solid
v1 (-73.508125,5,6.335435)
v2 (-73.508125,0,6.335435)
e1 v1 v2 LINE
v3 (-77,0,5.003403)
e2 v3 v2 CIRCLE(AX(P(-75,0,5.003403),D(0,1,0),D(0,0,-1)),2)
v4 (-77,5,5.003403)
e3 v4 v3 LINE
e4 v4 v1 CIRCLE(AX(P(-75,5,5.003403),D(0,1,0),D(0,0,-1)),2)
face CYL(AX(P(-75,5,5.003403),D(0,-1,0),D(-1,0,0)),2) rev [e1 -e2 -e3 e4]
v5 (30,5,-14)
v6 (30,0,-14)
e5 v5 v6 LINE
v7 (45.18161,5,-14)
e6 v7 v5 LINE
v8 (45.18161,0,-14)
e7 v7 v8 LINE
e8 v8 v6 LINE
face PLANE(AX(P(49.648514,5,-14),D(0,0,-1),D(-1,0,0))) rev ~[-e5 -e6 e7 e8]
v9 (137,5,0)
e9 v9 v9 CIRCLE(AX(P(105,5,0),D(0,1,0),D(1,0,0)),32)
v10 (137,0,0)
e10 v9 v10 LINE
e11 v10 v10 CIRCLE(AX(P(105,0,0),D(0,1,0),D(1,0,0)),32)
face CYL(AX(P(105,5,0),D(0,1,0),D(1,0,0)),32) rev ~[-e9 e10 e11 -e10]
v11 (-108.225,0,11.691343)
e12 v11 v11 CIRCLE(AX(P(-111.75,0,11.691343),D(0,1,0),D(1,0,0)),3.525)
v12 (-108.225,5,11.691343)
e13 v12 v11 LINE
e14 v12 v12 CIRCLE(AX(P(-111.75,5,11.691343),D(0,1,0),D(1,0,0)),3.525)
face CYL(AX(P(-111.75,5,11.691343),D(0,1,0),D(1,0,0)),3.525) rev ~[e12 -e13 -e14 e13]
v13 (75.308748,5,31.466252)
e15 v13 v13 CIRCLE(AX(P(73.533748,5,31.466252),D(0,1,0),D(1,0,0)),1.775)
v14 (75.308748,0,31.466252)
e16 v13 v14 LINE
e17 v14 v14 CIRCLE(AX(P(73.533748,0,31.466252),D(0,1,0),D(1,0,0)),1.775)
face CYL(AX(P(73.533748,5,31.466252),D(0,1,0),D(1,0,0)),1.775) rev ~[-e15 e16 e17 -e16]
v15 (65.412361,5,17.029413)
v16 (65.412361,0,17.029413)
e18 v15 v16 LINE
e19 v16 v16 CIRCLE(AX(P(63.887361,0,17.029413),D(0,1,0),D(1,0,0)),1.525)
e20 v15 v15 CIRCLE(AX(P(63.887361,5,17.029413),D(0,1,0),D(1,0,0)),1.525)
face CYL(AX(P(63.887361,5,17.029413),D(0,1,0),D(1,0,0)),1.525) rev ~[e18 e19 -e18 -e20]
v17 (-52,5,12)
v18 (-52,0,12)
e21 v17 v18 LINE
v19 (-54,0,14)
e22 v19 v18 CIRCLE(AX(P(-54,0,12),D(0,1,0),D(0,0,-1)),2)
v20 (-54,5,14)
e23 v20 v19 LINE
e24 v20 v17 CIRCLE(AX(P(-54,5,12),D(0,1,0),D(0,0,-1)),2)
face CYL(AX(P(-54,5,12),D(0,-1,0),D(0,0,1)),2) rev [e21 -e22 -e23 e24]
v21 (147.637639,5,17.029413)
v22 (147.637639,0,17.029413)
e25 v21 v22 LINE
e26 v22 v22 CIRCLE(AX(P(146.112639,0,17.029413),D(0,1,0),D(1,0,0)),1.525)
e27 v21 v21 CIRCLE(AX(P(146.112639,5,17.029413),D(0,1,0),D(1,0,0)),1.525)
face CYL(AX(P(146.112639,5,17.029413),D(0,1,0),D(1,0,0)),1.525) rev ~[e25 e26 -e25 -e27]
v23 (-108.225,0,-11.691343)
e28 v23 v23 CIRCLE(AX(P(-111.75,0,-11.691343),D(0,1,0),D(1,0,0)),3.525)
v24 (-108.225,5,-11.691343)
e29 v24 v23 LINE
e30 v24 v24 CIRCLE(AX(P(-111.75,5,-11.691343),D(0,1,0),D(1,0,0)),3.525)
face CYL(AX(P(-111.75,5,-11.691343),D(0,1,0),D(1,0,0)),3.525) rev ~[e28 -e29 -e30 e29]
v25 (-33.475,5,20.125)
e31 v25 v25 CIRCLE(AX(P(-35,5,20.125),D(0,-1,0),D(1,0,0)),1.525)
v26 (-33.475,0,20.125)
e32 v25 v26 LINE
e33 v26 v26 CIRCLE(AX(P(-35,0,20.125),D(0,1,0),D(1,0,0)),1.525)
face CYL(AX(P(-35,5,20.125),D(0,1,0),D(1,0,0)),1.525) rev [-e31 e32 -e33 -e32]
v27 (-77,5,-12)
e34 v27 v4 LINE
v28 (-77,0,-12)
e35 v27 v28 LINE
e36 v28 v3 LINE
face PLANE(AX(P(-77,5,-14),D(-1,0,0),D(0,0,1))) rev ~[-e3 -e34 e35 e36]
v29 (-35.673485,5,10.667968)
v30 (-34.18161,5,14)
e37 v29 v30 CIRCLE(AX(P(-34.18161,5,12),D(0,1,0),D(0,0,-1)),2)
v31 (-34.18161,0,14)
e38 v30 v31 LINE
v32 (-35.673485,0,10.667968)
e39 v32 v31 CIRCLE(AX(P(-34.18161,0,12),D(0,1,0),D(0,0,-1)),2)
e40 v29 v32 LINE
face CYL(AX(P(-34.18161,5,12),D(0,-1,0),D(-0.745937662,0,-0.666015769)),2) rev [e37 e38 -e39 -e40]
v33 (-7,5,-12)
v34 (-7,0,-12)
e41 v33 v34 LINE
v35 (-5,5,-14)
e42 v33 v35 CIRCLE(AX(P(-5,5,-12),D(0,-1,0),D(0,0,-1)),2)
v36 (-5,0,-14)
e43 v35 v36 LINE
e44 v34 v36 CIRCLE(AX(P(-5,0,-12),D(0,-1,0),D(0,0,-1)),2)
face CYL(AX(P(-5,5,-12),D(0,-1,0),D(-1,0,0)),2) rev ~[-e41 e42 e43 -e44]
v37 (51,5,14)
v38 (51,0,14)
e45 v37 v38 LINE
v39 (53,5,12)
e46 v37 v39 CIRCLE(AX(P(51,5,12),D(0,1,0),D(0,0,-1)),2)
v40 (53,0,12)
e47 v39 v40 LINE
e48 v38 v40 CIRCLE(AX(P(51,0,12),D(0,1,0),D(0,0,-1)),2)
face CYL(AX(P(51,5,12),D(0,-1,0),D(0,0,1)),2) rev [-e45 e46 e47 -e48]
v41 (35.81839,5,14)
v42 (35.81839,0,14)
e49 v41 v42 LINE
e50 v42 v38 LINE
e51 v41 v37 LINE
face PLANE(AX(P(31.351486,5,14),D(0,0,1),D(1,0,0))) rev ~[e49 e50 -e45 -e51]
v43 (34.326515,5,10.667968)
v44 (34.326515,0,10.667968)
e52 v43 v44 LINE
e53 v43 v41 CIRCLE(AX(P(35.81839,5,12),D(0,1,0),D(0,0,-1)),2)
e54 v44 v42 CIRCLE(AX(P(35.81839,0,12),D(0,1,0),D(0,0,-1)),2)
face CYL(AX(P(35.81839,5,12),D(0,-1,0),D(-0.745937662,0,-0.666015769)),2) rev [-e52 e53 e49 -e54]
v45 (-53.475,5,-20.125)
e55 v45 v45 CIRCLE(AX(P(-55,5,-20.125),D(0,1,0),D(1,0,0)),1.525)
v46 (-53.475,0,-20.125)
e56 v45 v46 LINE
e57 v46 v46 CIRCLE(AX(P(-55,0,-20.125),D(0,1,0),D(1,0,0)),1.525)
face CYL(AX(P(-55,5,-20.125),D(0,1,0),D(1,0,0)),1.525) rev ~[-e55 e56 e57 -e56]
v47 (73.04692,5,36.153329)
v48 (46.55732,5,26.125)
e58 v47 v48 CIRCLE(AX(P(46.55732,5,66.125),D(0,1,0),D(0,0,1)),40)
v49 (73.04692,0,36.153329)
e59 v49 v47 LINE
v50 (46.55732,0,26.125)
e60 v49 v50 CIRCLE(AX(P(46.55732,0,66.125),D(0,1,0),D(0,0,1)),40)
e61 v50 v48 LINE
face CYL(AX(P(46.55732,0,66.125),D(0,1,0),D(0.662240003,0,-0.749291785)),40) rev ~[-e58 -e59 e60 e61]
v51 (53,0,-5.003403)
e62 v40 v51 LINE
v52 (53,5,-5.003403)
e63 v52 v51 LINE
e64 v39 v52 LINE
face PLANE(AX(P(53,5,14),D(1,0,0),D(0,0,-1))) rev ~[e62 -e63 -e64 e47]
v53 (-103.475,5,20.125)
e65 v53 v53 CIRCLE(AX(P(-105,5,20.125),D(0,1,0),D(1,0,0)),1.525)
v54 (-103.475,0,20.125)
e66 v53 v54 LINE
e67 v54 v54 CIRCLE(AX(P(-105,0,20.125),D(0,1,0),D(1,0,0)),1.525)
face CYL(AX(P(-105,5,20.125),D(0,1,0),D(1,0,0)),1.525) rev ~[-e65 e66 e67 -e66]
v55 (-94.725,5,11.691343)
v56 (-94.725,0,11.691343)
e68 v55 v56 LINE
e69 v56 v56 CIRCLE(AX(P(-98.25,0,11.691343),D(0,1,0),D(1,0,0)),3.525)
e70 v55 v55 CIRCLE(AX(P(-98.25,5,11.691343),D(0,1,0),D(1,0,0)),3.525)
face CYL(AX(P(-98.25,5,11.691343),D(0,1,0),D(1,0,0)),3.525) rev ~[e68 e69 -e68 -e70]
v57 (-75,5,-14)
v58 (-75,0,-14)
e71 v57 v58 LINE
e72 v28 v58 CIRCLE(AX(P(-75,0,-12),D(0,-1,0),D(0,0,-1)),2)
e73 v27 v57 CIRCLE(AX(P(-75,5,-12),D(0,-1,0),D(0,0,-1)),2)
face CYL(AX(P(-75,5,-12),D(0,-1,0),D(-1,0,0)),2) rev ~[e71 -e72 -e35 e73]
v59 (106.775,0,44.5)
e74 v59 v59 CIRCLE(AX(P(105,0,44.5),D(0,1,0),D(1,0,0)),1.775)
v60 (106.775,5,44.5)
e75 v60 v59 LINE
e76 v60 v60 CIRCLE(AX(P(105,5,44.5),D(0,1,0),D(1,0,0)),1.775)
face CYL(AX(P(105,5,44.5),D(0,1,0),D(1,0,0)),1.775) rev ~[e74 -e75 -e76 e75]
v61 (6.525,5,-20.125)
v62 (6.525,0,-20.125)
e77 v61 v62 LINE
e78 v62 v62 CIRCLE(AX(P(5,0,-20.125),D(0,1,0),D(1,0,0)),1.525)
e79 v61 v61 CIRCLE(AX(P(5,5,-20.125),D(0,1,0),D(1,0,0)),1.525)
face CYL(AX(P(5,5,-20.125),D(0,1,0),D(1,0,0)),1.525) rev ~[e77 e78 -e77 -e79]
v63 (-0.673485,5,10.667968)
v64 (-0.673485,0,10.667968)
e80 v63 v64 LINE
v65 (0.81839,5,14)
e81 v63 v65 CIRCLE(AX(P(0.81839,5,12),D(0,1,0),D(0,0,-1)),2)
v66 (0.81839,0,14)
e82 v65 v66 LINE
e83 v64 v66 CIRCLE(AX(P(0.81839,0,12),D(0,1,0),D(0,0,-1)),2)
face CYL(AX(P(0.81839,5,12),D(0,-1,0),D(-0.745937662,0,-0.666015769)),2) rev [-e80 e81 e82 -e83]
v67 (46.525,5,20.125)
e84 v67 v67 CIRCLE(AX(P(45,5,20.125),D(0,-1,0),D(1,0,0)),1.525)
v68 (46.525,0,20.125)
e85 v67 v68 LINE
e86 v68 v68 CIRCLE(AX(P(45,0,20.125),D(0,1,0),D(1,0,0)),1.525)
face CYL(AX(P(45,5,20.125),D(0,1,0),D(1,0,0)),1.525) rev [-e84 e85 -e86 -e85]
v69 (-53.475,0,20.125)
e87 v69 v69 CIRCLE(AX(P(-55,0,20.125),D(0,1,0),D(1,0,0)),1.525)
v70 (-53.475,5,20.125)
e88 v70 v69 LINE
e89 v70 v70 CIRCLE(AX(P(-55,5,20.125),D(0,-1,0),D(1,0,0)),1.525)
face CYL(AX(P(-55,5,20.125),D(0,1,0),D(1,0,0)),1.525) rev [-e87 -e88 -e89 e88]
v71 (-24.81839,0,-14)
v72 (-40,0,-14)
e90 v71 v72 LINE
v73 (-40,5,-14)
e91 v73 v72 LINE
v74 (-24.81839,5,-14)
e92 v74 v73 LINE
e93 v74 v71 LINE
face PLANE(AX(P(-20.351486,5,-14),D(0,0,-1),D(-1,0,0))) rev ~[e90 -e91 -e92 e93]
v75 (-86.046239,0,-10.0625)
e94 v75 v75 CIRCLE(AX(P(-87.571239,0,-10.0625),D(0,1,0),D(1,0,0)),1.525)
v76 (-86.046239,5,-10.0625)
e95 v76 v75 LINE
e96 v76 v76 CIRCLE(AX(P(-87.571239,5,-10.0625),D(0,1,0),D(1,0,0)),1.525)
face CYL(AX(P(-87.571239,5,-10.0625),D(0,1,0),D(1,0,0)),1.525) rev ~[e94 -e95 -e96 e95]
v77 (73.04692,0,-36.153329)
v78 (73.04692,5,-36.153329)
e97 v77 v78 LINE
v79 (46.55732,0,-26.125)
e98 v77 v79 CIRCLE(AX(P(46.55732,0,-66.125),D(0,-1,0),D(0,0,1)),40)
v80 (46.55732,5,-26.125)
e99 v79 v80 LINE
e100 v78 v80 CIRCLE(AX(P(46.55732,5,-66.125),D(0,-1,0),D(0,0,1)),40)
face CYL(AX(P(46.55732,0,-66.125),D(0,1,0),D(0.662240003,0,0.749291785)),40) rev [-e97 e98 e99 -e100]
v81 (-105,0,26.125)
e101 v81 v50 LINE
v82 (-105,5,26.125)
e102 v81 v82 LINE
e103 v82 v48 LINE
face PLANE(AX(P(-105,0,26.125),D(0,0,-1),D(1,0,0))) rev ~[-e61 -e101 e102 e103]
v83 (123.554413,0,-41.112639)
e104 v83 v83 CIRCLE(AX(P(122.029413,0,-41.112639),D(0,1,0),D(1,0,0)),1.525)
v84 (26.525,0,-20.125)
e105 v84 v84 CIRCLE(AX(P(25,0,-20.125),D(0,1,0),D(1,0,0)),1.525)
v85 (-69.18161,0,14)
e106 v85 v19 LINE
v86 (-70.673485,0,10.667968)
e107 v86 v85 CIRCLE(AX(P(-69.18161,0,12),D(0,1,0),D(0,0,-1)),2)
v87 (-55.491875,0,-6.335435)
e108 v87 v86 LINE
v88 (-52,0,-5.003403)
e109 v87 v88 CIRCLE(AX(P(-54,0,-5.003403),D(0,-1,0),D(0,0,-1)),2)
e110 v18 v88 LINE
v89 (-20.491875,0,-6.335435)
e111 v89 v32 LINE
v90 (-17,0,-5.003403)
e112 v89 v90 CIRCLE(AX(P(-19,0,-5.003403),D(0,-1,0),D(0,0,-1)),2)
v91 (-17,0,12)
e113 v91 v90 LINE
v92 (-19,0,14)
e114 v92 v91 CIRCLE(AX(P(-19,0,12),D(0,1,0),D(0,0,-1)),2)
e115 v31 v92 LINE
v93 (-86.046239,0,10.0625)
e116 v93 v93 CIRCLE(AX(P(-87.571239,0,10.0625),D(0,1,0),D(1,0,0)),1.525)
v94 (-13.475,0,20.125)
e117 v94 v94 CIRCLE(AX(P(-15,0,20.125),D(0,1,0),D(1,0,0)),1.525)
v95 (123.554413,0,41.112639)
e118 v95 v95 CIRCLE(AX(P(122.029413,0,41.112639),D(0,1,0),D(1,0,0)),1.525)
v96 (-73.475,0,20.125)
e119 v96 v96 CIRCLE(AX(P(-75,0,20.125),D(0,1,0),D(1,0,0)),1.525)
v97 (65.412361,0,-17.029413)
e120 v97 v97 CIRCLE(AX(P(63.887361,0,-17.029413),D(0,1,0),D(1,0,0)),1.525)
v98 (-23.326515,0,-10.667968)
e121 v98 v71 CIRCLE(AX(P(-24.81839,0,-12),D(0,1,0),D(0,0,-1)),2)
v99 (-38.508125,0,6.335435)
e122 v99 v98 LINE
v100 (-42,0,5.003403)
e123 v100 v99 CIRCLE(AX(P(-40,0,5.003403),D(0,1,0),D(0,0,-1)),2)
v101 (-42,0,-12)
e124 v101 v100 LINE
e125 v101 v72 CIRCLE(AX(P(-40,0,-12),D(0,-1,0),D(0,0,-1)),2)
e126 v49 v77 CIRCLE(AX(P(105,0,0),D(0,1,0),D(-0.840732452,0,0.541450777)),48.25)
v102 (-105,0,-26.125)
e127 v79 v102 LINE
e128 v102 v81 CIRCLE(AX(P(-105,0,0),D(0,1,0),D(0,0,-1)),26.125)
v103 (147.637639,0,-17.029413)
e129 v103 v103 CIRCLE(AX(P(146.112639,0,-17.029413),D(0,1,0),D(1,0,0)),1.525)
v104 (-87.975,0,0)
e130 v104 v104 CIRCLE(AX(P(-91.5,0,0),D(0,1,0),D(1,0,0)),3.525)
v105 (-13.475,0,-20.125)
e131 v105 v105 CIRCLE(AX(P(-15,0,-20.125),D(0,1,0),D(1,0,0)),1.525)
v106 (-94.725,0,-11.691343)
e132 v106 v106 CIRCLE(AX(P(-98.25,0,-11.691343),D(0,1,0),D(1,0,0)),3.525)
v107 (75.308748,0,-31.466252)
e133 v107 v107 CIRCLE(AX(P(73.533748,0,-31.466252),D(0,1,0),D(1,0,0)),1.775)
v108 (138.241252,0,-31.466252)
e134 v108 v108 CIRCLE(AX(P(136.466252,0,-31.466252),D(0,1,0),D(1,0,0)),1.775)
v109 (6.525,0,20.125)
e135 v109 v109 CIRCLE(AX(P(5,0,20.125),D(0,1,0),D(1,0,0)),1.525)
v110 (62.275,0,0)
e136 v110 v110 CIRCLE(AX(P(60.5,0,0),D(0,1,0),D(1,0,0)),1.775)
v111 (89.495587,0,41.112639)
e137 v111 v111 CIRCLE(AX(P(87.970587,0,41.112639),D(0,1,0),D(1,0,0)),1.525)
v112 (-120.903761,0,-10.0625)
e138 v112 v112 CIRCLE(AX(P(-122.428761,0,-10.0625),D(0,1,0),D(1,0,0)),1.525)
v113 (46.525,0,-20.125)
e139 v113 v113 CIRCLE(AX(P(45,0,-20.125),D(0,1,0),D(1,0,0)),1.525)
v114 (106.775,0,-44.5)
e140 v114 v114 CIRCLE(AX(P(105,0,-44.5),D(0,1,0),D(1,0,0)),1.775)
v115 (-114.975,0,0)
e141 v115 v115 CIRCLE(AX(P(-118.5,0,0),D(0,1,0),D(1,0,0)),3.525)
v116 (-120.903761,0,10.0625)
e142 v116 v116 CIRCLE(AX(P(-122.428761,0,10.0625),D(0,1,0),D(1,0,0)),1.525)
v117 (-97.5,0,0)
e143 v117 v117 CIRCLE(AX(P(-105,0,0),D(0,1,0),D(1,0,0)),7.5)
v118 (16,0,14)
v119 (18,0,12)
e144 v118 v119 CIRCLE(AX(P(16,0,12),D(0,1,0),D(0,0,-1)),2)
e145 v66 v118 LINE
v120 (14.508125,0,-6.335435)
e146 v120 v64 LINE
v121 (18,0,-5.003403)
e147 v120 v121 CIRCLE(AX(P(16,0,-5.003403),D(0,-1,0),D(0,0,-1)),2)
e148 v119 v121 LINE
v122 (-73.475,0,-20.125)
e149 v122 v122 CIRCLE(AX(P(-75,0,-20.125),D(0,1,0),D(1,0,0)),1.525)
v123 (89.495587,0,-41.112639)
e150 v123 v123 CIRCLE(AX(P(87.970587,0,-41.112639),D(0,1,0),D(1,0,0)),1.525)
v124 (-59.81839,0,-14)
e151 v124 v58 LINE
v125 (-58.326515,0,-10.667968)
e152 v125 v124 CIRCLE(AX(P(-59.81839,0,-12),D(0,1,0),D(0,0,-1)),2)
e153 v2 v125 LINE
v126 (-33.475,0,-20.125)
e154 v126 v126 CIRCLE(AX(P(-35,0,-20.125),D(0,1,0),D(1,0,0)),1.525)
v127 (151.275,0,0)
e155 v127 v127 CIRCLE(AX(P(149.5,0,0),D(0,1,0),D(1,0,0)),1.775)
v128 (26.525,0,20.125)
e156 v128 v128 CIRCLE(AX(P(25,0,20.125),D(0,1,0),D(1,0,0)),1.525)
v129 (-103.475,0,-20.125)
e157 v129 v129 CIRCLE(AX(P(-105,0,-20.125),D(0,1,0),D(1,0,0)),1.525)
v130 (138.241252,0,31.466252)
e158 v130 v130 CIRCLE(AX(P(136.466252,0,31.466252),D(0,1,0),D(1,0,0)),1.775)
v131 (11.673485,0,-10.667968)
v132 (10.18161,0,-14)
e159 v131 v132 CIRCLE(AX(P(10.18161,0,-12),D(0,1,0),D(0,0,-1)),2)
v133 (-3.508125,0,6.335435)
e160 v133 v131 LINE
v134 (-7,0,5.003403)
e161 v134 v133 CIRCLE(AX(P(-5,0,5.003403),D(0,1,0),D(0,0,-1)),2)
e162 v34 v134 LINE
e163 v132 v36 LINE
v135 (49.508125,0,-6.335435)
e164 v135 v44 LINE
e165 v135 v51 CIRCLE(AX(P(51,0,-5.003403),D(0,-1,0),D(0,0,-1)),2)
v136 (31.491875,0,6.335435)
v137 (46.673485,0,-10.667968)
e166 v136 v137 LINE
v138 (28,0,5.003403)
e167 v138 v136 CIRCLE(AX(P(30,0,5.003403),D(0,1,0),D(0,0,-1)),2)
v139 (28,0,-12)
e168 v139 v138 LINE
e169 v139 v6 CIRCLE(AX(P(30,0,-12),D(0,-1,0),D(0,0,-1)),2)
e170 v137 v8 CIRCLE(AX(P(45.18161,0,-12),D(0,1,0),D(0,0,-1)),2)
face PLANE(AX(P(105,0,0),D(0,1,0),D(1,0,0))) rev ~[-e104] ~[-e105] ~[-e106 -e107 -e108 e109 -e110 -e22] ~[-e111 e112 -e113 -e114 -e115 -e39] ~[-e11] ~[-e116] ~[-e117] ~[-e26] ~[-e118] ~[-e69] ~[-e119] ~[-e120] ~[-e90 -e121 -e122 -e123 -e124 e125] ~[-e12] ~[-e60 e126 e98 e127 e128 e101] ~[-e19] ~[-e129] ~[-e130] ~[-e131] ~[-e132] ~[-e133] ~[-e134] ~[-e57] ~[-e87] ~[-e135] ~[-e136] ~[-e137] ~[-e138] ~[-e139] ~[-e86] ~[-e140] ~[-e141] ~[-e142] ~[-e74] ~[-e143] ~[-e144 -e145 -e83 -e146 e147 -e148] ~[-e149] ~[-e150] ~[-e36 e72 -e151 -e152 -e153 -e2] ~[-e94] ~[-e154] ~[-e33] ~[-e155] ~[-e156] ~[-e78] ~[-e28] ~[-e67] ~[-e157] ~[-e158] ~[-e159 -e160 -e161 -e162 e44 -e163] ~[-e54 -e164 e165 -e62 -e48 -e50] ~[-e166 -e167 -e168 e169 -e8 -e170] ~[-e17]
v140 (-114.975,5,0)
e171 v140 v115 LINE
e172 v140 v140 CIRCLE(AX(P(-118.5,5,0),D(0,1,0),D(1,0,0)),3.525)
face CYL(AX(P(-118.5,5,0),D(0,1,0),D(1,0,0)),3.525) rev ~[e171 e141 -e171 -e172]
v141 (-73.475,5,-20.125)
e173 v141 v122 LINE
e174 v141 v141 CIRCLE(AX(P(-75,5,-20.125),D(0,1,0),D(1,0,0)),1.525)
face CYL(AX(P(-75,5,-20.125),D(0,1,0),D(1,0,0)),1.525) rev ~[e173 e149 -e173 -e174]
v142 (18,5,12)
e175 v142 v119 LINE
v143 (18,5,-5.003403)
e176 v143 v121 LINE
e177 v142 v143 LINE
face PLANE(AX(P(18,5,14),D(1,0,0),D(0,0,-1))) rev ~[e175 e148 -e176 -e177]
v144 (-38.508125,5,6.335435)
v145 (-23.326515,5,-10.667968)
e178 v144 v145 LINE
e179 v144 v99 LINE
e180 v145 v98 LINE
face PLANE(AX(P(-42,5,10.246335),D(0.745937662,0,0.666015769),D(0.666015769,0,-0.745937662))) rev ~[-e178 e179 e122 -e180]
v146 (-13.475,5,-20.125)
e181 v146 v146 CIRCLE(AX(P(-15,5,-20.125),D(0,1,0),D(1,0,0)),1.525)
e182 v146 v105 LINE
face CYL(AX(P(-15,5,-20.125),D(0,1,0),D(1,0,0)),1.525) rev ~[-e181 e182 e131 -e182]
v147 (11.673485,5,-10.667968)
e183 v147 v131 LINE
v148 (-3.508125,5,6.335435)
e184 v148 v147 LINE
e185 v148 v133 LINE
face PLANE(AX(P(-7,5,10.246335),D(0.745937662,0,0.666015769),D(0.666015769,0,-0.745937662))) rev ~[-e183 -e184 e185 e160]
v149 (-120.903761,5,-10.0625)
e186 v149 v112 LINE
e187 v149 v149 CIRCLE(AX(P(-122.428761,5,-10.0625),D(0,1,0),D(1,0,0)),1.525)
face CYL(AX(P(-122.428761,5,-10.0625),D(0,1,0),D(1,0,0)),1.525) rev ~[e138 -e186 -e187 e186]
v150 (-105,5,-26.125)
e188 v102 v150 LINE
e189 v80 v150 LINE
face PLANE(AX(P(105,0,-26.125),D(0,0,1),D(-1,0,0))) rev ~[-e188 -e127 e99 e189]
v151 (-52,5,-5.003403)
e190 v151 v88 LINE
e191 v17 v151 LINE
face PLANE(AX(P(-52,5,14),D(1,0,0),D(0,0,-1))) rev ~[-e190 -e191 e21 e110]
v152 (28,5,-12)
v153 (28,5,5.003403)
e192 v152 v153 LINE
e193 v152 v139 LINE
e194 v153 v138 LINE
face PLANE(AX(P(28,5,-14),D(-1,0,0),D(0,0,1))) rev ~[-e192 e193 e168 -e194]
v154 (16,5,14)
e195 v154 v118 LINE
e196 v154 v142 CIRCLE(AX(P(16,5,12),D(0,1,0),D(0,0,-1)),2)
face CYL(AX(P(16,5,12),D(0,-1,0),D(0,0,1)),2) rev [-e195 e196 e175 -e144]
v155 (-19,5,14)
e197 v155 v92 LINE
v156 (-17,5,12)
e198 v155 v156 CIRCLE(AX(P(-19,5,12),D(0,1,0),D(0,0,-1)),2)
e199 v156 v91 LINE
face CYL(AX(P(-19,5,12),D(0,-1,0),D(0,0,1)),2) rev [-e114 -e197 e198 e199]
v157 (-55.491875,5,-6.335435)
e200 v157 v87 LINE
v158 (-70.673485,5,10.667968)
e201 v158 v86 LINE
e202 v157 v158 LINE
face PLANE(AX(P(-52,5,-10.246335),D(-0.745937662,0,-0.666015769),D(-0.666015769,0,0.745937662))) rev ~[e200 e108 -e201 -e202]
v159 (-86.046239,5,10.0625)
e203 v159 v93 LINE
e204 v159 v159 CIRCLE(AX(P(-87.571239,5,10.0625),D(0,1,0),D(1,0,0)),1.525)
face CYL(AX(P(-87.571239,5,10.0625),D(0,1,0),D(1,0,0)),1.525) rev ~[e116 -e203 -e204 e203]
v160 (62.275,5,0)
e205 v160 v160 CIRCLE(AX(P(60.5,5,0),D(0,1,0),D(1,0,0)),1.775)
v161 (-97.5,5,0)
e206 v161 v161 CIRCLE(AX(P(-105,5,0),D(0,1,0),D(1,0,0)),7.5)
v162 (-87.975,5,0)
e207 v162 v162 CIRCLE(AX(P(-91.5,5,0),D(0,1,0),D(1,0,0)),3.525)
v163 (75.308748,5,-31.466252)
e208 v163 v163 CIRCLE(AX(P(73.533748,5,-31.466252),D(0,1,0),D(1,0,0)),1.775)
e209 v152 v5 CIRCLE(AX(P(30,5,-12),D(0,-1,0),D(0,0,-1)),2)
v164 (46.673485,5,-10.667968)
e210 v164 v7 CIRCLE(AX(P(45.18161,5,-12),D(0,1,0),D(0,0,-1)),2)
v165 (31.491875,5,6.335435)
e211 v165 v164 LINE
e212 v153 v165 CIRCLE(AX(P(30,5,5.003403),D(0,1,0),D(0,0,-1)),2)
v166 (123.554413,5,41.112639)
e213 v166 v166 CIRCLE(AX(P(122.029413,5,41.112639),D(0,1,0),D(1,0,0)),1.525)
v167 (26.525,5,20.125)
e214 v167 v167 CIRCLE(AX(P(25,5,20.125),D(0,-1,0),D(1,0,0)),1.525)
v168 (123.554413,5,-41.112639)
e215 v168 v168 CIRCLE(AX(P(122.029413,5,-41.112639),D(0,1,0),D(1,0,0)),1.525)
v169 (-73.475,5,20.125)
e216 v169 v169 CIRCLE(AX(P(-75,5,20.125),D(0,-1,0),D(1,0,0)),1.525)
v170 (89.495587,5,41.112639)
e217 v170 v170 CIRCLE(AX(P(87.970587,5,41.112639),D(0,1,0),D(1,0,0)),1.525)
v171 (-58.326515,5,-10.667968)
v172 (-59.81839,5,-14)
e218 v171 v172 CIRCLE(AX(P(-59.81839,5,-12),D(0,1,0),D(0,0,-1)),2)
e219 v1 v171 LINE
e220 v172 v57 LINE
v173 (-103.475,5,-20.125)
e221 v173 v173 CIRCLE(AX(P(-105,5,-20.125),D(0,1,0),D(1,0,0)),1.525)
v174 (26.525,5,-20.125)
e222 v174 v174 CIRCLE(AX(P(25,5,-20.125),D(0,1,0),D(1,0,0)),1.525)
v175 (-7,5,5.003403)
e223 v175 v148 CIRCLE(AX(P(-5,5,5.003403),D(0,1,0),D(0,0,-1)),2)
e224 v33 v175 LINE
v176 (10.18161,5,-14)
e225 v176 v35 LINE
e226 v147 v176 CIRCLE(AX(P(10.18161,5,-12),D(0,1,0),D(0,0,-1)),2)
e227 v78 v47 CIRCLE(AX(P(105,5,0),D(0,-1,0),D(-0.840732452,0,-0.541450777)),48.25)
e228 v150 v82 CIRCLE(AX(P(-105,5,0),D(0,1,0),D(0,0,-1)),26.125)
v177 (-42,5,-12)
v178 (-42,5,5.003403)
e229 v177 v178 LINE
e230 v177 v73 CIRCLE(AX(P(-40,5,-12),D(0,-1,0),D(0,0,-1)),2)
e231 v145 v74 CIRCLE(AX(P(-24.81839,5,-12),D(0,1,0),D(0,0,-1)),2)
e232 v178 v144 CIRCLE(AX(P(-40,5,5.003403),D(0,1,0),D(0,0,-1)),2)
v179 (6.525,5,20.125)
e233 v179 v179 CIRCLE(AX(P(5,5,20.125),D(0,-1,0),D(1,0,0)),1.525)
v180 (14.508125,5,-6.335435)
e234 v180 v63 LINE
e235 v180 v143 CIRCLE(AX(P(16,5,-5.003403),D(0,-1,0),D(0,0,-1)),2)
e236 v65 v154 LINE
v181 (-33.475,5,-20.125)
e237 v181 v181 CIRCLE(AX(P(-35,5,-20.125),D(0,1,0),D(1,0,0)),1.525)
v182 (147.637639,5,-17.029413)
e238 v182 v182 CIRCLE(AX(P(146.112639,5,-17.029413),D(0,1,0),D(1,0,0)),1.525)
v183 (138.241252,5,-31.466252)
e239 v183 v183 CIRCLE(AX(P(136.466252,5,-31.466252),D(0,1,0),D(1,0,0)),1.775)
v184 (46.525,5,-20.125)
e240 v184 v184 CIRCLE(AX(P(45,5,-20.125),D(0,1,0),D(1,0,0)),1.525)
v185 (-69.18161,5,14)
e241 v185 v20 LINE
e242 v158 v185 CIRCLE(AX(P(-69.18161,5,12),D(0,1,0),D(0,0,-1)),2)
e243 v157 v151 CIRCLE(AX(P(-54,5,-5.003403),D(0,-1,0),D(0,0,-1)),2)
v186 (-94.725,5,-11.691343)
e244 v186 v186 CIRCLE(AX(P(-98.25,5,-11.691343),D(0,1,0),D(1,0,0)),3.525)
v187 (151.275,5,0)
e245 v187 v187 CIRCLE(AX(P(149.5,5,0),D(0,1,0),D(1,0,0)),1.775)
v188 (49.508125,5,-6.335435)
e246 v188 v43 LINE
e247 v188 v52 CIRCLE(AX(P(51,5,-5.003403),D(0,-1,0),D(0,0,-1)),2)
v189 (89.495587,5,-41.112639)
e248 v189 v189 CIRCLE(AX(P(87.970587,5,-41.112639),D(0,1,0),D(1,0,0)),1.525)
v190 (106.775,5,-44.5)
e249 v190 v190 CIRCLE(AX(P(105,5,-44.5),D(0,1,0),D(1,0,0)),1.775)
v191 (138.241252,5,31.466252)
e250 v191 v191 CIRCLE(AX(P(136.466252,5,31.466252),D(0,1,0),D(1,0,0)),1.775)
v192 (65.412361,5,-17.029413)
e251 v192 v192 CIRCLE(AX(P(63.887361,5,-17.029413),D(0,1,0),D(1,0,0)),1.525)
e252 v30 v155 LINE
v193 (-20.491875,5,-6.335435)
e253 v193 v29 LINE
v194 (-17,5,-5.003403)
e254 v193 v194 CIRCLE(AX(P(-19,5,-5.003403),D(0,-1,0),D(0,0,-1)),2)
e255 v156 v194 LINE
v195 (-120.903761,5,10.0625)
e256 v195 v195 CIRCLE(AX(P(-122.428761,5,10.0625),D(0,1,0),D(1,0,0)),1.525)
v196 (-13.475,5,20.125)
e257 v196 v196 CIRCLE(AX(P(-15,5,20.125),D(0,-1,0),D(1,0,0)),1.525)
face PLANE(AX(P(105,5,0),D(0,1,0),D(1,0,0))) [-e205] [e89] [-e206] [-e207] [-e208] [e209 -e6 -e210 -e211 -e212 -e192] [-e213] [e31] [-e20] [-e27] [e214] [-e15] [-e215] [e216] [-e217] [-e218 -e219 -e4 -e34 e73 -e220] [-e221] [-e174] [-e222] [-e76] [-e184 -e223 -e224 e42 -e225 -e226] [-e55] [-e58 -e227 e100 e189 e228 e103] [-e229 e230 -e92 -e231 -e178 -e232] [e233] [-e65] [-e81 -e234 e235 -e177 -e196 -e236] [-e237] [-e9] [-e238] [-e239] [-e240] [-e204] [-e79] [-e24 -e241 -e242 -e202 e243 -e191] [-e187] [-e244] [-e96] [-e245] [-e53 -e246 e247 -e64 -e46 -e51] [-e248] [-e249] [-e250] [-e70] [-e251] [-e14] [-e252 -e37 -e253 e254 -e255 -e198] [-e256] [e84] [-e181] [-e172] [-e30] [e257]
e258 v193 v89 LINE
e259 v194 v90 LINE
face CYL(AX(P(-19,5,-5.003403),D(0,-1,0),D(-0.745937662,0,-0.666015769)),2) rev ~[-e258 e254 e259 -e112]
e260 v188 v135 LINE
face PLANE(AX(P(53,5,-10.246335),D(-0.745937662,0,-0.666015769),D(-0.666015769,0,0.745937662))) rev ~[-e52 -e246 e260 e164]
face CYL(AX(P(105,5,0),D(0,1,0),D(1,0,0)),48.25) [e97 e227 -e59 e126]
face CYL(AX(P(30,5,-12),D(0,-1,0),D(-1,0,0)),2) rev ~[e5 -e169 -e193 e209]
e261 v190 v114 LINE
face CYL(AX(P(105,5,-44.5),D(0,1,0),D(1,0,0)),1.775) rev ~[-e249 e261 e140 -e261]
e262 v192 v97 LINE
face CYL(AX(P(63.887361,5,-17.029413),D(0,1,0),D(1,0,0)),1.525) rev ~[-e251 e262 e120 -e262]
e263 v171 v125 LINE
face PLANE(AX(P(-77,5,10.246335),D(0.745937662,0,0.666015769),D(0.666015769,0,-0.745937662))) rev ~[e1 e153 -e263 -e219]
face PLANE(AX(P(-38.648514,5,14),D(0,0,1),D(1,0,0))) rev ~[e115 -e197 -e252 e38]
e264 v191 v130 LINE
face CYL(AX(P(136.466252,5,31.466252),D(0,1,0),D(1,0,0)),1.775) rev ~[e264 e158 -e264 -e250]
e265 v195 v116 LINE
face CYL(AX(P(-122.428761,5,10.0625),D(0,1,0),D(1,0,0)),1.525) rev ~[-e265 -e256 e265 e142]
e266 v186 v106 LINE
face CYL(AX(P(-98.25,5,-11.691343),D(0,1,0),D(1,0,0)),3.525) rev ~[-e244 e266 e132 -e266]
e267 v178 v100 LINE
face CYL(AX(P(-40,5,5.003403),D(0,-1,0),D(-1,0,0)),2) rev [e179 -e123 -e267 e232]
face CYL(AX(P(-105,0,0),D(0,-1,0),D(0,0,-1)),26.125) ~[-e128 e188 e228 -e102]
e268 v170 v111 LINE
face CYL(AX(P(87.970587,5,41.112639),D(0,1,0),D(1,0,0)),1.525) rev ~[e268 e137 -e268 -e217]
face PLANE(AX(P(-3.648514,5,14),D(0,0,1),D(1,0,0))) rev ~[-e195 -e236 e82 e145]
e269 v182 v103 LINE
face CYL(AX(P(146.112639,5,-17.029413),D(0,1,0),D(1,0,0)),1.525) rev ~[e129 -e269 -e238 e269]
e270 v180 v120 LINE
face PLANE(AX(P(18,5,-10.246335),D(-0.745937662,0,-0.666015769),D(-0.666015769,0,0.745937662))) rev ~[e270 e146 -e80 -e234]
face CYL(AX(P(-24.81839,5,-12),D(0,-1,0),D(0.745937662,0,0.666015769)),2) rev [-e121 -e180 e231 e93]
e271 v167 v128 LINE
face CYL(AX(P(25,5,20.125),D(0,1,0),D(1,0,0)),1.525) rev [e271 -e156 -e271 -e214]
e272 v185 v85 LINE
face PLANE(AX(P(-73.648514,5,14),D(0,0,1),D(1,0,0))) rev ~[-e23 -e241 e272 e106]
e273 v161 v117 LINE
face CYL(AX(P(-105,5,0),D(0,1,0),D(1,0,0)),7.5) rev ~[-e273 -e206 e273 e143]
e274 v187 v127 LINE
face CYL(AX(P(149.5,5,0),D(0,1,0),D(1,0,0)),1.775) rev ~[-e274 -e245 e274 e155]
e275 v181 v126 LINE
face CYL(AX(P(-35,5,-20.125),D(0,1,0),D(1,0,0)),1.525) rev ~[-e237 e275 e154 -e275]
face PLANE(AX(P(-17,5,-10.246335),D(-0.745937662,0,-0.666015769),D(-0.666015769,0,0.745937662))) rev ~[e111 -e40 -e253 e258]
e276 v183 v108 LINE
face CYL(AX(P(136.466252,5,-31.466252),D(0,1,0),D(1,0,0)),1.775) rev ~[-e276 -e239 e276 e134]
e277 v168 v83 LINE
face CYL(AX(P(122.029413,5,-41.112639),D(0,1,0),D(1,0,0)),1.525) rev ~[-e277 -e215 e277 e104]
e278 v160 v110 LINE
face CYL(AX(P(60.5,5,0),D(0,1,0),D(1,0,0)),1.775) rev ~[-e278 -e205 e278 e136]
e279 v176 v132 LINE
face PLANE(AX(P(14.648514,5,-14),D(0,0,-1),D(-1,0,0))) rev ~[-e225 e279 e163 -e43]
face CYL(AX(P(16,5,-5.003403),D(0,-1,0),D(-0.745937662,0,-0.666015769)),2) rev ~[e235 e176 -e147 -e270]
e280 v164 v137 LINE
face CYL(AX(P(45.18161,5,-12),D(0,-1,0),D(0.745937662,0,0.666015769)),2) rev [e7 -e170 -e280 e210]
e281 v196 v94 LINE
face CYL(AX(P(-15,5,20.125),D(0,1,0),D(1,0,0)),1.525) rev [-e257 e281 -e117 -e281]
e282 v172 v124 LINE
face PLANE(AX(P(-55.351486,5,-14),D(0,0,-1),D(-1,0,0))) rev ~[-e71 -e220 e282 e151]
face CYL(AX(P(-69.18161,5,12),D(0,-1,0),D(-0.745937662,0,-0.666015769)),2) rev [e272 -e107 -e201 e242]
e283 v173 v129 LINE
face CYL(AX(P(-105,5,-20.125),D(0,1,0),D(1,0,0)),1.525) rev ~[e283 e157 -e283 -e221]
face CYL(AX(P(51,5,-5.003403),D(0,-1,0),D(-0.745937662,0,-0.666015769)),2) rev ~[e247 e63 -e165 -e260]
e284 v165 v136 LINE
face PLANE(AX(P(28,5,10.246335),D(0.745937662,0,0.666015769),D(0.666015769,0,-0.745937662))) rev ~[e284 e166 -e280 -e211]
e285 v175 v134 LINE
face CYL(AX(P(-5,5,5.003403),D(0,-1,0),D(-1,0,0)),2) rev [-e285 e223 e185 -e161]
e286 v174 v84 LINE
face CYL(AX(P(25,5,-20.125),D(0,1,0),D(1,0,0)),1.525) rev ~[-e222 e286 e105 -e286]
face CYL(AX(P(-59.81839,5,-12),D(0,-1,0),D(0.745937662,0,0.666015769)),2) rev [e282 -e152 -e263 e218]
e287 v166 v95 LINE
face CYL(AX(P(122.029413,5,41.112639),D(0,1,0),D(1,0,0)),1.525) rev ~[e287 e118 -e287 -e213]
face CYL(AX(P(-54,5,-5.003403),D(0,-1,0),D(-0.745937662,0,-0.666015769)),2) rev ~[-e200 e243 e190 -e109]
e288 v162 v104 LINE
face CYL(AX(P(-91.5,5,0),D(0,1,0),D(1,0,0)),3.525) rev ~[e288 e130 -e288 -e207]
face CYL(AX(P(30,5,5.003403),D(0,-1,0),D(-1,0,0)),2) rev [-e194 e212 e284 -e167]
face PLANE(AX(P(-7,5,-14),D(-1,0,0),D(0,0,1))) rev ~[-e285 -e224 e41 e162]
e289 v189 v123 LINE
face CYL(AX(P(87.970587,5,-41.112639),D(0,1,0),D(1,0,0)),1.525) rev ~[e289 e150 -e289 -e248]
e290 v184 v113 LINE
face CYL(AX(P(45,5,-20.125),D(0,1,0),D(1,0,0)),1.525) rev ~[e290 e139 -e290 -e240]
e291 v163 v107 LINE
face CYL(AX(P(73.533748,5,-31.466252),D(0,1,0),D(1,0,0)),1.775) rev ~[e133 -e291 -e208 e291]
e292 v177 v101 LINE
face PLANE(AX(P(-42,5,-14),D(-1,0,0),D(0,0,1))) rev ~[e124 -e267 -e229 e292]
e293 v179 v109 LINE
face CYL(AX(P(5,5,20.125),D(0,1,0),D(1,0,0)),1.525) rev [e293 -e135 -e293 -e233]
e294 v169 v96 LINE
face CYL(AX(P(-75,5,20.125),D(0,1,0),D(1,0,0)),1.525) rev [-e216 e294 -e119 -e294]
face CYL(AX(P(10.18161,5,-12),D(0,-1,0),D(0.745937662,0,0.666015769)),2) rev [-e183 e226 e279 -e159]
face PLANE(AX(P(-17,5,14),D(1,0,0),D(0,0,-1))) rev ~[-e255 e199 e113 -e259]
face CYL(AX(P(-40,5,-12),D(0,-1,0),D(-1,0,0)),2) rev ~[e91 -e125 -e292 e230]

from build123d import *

# Parameters (mm, degrees)
EXTRUDE_1_DEPTH                = 5
SKETCH_2_R                     = 1.525
CUT_EXTRUDE_1_DEPTH            = 6
SKETCH_3_R                     = 48.25
EXTRUDE_2_DEPTH                = 5
SKETCH_4_R                     = 32
CUT_EXTRUDE_2_DEPTH            = 6
FILLET_1_R                     = 40
SKETCH_9_R                     = 7.5
CUT_EXTRUDE_7_DEPTH            = 6
SKETCH_10_R                    = 1.775
CUT_EXTRUDE_8_DEPTH            = 6
SKETCH_11_R                    = 1.525
CUT_EXTRUDE_9_DEPTH            = 6
SKETCH_15_R                    = 1.525
CUT_EXTRUDE_10_DEPTH           = 6
SKETCH_16_R                    = 1.525
SKETCH_16_R_2                  = 3.525
CUT_EXTRUDE_11_DEPTH           = 6
SKETCH_18_R                    = 1.525
CUT_EXTRUDE_13_DEPTH           = 6
CUT_EXTRUDE_14_DEPTH           = 6
FILLET_2_R                     = 2
PATTERN_LINEAR_1_COUNT         = 4
PATTERN_LINEAR_1_PITCH         = 35
FILLET_2_OF_PATTERN_LINEAR_1_R = 2


with BuildPart() as part:
    # 草图1 → 凸台-拉伸1 (new body)
    with BuildSketch(Plane(origin=(0, 0, 0), x_dir=(1, 0, 0), z_dir=(0, 1, 0))):
        with BuildLine():
            ThreePointArc((-78.875, 0), (-86.526835342, -18.473164658), (-105, -26.125))
            Line((-105, -26.125), (105, -26.125))
            Line((105, -26.125), (105, 26.125))
            Line((105, 26.125), (-105, 26.125))
            ThreePointArc((-105, 26.125), (-86.526835342, 18.473164658), (-78.875, 0))
        make_face()
        with BuildLine():
            ThreePointArc((-105, 26.125), (-131.125, 0), (-105, -26.125))
            Line((-105, -26.125), (-105, 26.125))
        make_face()
        with BuildLine():
            Line((-105, 26.125), (-105, -26.125))
            ThreePointArc((-105, -26.125), (-86.526835342, -18.473164658), (-78.875, 0))
            ThreePointArc((-78.875, 0), (-86.526835342, 18.473164658), (-105, 26.125))
        make_face()
    extrude(amount=EXTRUDE_1_DEPTH)

    # 草图2 → 切除-拉伸1 (cut, through all)
    with BuildSketch(Plane(origin=(0, 5, 0), x_dir=(1, 0, 0), z_dir=(0, 1, 0))):
        with Locations((-91.5, 0)):
            Circle(SKETCH_2_R)
        with Locations((-98.25, -11.691342951)):
            Circle(SKETCH_2_R)
        with Locations((-111.75, -11.691342951)):
            Circle(SKETCH_2_R)
        with Locations((-118.5, 0)):
            Circle(SKETCH_2_R)
        with Locations((-111.75, 11.691342951)):
            Circle(SKETCH_2_R)
        with Locations((-98.25, 11.691342951)):
            Circle(SKETCH_2_R)
    extrude(amount=-CUT_EXTRUDE_1_DEPTH, mode=Mode.SUBTRACT)

    # 草图3 → 凸台-拉伸2 (add)
    with BuildSketch(Plane(origin=(0, 5, 0), x_dir=(1, 0, 0), z_dir=(0, 1, 0))):
        with Locations((105, 0)):
            Circle(SKETCH_3_R)
    extrude(amount=-EXTRUDE_2_DEPTH)

    # 草图4 → 切除-拉伸2 (cut, through all)
    with BuildSketch(Plane(origin=(0, 5, 0), x_dir=(1, 0, 0), z_dir=(0, 1, 0))):
        with Locations((105, 0)):
            Circle(SKETCH_4_R)
    extrude(amount=-CUT_EXTRUDE_2_DEPTH, mode=Mode.SUBTRACT)

    # 圆角1
    fillet_1_edges = [part.edges().sort_by_distance(p)[0] for p in [
        (64.43465919, 2.5, 26.125),
        (64.43465919, 2.5, -26.125),
    ]]
    fillet(fillet_1_edges, radius=FILLET_1_R)

    # 草图9 → 切除-拉伸7 (cut, through all)
    with BuildSketch(Plane(origin=(0, 5, 0), x_dir=(1, 0, 0), z_dir=(0, 1, 0))):
        with Locations((-105, 0)):
            Circle(SKETCH_9_R)
    extrude(amount=-CUT_EXTRUDE_7_DEPTH, mode=Mode.SUBTRACT)

    # 草图10 → 切除-拉伸8 (cut, through all)
    with BuildSketch(Plane(origin=(0, 5, 0), x_dir=(1, 0, 0), z_dir=(0, 1, 0))):
        with Locations((73.533748237, 31.466251763)):
            Circle(SKETCH_10_R)
        with Locations((60.5, 0)):
            Circle(SKETCH_10_R)
        with Locations((73.533748237, -31.466251763)):
            Circle(SKETCH_10_R)
        with Locations((136.466251763, -31.466251763)):
            Circle(SKETCH_10_R)
        with Locations((136.466251763, 31.466251763)):
            Circle(SKETCH_10_R)
        with Locations((149.5, 0)):
            Circle(SKETCH_10_R)
        with Locations((105, -44.5)):
            Circle(SKETCH_10_R)
        with Locations((105, 44.5)):
            Circle(SKETCH_10_R)
    extrude(amount=-CUT_EXTRUDE_8_DEPTH, mode=Mode.SUBTRACT)

    # 草图11 → 切除-拉伸9 (cut, through all)
    with BuildSketch(Plane(origin=(0, 5, 0), x_dir=(1, 0, 0), z_dir=(0, 1, 0))):
        with Locations((122.02941274, 41.112639197)):
            Circle(SKETCH_11_R)
        with Locations((146.112639197, 17.02941274)):
            Circle(SKETCH_11_R)
        with Locations((146.112639197, -17.02941274)):
            Circle(SKETCH_11_R)
        with Locations((122.02941274, -41.112639197)):
            Circle(SKETCH_11_R)
        with Locations((87.97058726, -41.112639197)):
            Circle(SKETCH_11_R)
        with Locations((63.887360803, -17.02941274)):
            Circle(SKETCH_11_R)
        with Locations((63.887360803, 17.02941274)):
            Circle(SKETCH_11_R)
        with Locations((87.97058726, 41.112639197)):
            Circle(SKETCH_11_R)
    extrude(amount=-CUT_EXTRUDE_9_DEPTH, mode=Mode.SUBTRACT)

    # 草图15 → 切除-拉伸10 (cut, through all)
    with BuildSketch(Plane(origin=(0, 5, 0), x_dir=(1, 0, 0), z_dir=(0, 1, 0))):
        with Locations((-122.428761251, 10.0625)):
            Circle(SKETCH_15_R)
        with Locations((-105, 20.125)):
            Circle(SKETCH_15_R)
        with Locations((-87.571238749, 10.0625)):
            Circle(SKETCH_15_R)
        with Locations((-87.571238749, -10.0625)):
            Circle(SKETCH_15_R)
        with Locations((-105, -20.125)):
            Circle(SKETCH_15_R)
        with Locations((-122.428761251, -10.0625)):
            Circle(SKETCH_15_R)
    extrude(amount=-CUT_EXTRUDE_10_DEPTH, mode=Mode.SUBTRACT)

    # 草图16 → 切除-拉伸11 (cut, through all)
    with BuildSketch(Plane(origin=(0, 5, 0), x_dir=(1, 0, 0), z_dir=(0, 1, 0))):
        with Locations((-111.75, 11.691342951)):
            Circle(SKETCH_16_R)
        with Locations((-111.75, 11.691342951)):
            Circle(SKETCH_16_R_2)
        with Locations((-111.75, 11.691342951)):
            Circle(SKETCH_16_R, mode=Mode.SUBTRACT)
        with Locations((-98.25, 11.691342951)):
            Circle(SKETCH_16_R_2)
        with Locations((-98.25, 11.691342951)):
            Circle(SKETCH_16_R, mode=Mode.SUBTRACT)
        with Locations((-98.25, 11.691342951)):
            Circle(SKETCH_16_R)
        with Locations((-91.5, 0)):
            Circle(SKETCH_16_R)
        with Locations((-91.5, 0)):
            Circle(SKETCH_16_R_2)
        with Locations((-91.5, 0)):
            Circle(SKETCH_16_R, mode=Mode.SUBTRACT)
        with Locations((-98.25, -11.691342951)):
            Circle(SKETCH_16_R_2)
        with Locations((-98.25, -11.691342951)):
            Circle(SKETCH_16_R, mode=Mode.SUBTRACT)
        with Locations((-111.75, -11.691342951)):
            Circle(SKETCH_16_R_2)
        with Locations((-111.75, -11.691342951)):
            Circle(SKETCH_16_R, mode=Mode.SUBTRACT)
        with Locations((-111.75, -11.691342951)):
            Circle(SKETCH_16_R)
        with Locations((-118.5, 0)):
            Circle(SKETCH_16_R_2)
        with Locations((-118.5, 0)):
            Circle(SKETCH_16_R, mode=Mode.SUBTRACT)
        with Locations((-118.5, 0)):
            Circle(SKETCH_16_R)
    extrude(amount=-CUT_EXTRUDE_11_DEPTH, mode=Mode.SUBTRACT)

    # 草图18 → 切除-拉伸13 (cut, through all)
    with BuildSketch(Plane(origin=(0, 5, 0), x_dir=(1, 0, 0), z_dir=(0, 1, 0))):
        with Locations((45, 20.125)):
            Circle(SKETCH_18_R)
        with Locations((25, 20.125)):
            Circle(SKETCH_18_R)
        with Locations((5, 20.125)):
            Circle(SKETCH_18_R)
        with Locations((-15, 20.125)):
            Circle(SKETCH_18_R)
        with Locations((-35, 20.125)):
            Circle(SKETCH_18_R)
        with Locations((-55, 20.125)):
            Circle(SKETCH_18_R)
        with Locations((-75, 20.125)):
            Circle(SKETCH_18_R)
    cut_extrude_13 = extrude(amount=-CUT_EXTRUDE_13_DEPTH, mode=Mode.SUBTRACT)

    # 镜向1: 切除-拉伸13 across plane
    add(cut_extrude_13.mirror(Plane.XY), mode=Mode.SUBTRACT)

    # 草图19 → 切除-拉伸14 (cut, through all)
    with BuildSketch(Plane(origin=(0, 5, 0), x_dir=(1, 0, 0), z_dir=(0, 1, 0))):
        Polygon((-77, 14), (-77, -10.246335124), (-55.351486496, 14), align=None)
        Polygon((-52, 10.246335124), (-73.648513504, -14), (-52, -14), align=None)
    cut_extrude_14 = extrude(amount=-CUT_EXTRUDE_14_DEPTH, mode=Mode.SUBTRACT)

    # 圆角2
    fillet_2_edges = [part.edges().sort_by_distance(p)[0] for p in [
        (-52, 2.5, 14),
        (-73.648513504, 2.5, 14),
        (-52, 2.5, -10.246335124),
        (-77, 2.5, 10.246335124),
        (-77, 2.5, -14),
        (-55.351486496, 2.5, -14),
    ]]
    fillet(fillet_2_edges, radius=FILLET_2_R)

    # 阵列(线性)1: 切除-拉伸14 ×4
    with Locations(*[(i * PATTERN_LINEAR_1_PITCH, 0, 0) for i in range(1, PATTERN_LINEAR_1_COUNT)]):
        add(cut_extrude_14, mode=Mode.SUBTRACT)

    # 圆角2 of 阵列(线性)1
    fillet_2_of_pattern_linear_1_edges = [part.edges().sort_by_distance(p)[0] for p in [
        (-17, 2.5, 14),
        (-38.648513504, 2.5, 14),
        (-17, 2.5, -10.246335124),
        (-42, 2.5, 10.246335124),
        (-42, 2.5, -14),
        (-20.351486496, 2.5, -14),
        (18, 2.5, 14),
        (-3.648513504, 2.5, 14),
        (18, 2.5, -10.246335124),
        (-7, 2.5, 10.246335124),
        (-7, 2.5, -14),
        (14.648513504, 2.5, -14),
        (53, 2.5, 14),
        (31.351486496, 2.5, 14),
        (53, 2.5, -10.246335124),
        (28, 2.5, 10.246335124),
        (28, 2.5, -14),
        (49.648513504, 2.5, -14),
    ]]
    fillet(fillet_2_of_pattern_linear_1_edges, radius=FILLET_2_OF_PATTERN_LINEAR_1_R)


solid = part.part
